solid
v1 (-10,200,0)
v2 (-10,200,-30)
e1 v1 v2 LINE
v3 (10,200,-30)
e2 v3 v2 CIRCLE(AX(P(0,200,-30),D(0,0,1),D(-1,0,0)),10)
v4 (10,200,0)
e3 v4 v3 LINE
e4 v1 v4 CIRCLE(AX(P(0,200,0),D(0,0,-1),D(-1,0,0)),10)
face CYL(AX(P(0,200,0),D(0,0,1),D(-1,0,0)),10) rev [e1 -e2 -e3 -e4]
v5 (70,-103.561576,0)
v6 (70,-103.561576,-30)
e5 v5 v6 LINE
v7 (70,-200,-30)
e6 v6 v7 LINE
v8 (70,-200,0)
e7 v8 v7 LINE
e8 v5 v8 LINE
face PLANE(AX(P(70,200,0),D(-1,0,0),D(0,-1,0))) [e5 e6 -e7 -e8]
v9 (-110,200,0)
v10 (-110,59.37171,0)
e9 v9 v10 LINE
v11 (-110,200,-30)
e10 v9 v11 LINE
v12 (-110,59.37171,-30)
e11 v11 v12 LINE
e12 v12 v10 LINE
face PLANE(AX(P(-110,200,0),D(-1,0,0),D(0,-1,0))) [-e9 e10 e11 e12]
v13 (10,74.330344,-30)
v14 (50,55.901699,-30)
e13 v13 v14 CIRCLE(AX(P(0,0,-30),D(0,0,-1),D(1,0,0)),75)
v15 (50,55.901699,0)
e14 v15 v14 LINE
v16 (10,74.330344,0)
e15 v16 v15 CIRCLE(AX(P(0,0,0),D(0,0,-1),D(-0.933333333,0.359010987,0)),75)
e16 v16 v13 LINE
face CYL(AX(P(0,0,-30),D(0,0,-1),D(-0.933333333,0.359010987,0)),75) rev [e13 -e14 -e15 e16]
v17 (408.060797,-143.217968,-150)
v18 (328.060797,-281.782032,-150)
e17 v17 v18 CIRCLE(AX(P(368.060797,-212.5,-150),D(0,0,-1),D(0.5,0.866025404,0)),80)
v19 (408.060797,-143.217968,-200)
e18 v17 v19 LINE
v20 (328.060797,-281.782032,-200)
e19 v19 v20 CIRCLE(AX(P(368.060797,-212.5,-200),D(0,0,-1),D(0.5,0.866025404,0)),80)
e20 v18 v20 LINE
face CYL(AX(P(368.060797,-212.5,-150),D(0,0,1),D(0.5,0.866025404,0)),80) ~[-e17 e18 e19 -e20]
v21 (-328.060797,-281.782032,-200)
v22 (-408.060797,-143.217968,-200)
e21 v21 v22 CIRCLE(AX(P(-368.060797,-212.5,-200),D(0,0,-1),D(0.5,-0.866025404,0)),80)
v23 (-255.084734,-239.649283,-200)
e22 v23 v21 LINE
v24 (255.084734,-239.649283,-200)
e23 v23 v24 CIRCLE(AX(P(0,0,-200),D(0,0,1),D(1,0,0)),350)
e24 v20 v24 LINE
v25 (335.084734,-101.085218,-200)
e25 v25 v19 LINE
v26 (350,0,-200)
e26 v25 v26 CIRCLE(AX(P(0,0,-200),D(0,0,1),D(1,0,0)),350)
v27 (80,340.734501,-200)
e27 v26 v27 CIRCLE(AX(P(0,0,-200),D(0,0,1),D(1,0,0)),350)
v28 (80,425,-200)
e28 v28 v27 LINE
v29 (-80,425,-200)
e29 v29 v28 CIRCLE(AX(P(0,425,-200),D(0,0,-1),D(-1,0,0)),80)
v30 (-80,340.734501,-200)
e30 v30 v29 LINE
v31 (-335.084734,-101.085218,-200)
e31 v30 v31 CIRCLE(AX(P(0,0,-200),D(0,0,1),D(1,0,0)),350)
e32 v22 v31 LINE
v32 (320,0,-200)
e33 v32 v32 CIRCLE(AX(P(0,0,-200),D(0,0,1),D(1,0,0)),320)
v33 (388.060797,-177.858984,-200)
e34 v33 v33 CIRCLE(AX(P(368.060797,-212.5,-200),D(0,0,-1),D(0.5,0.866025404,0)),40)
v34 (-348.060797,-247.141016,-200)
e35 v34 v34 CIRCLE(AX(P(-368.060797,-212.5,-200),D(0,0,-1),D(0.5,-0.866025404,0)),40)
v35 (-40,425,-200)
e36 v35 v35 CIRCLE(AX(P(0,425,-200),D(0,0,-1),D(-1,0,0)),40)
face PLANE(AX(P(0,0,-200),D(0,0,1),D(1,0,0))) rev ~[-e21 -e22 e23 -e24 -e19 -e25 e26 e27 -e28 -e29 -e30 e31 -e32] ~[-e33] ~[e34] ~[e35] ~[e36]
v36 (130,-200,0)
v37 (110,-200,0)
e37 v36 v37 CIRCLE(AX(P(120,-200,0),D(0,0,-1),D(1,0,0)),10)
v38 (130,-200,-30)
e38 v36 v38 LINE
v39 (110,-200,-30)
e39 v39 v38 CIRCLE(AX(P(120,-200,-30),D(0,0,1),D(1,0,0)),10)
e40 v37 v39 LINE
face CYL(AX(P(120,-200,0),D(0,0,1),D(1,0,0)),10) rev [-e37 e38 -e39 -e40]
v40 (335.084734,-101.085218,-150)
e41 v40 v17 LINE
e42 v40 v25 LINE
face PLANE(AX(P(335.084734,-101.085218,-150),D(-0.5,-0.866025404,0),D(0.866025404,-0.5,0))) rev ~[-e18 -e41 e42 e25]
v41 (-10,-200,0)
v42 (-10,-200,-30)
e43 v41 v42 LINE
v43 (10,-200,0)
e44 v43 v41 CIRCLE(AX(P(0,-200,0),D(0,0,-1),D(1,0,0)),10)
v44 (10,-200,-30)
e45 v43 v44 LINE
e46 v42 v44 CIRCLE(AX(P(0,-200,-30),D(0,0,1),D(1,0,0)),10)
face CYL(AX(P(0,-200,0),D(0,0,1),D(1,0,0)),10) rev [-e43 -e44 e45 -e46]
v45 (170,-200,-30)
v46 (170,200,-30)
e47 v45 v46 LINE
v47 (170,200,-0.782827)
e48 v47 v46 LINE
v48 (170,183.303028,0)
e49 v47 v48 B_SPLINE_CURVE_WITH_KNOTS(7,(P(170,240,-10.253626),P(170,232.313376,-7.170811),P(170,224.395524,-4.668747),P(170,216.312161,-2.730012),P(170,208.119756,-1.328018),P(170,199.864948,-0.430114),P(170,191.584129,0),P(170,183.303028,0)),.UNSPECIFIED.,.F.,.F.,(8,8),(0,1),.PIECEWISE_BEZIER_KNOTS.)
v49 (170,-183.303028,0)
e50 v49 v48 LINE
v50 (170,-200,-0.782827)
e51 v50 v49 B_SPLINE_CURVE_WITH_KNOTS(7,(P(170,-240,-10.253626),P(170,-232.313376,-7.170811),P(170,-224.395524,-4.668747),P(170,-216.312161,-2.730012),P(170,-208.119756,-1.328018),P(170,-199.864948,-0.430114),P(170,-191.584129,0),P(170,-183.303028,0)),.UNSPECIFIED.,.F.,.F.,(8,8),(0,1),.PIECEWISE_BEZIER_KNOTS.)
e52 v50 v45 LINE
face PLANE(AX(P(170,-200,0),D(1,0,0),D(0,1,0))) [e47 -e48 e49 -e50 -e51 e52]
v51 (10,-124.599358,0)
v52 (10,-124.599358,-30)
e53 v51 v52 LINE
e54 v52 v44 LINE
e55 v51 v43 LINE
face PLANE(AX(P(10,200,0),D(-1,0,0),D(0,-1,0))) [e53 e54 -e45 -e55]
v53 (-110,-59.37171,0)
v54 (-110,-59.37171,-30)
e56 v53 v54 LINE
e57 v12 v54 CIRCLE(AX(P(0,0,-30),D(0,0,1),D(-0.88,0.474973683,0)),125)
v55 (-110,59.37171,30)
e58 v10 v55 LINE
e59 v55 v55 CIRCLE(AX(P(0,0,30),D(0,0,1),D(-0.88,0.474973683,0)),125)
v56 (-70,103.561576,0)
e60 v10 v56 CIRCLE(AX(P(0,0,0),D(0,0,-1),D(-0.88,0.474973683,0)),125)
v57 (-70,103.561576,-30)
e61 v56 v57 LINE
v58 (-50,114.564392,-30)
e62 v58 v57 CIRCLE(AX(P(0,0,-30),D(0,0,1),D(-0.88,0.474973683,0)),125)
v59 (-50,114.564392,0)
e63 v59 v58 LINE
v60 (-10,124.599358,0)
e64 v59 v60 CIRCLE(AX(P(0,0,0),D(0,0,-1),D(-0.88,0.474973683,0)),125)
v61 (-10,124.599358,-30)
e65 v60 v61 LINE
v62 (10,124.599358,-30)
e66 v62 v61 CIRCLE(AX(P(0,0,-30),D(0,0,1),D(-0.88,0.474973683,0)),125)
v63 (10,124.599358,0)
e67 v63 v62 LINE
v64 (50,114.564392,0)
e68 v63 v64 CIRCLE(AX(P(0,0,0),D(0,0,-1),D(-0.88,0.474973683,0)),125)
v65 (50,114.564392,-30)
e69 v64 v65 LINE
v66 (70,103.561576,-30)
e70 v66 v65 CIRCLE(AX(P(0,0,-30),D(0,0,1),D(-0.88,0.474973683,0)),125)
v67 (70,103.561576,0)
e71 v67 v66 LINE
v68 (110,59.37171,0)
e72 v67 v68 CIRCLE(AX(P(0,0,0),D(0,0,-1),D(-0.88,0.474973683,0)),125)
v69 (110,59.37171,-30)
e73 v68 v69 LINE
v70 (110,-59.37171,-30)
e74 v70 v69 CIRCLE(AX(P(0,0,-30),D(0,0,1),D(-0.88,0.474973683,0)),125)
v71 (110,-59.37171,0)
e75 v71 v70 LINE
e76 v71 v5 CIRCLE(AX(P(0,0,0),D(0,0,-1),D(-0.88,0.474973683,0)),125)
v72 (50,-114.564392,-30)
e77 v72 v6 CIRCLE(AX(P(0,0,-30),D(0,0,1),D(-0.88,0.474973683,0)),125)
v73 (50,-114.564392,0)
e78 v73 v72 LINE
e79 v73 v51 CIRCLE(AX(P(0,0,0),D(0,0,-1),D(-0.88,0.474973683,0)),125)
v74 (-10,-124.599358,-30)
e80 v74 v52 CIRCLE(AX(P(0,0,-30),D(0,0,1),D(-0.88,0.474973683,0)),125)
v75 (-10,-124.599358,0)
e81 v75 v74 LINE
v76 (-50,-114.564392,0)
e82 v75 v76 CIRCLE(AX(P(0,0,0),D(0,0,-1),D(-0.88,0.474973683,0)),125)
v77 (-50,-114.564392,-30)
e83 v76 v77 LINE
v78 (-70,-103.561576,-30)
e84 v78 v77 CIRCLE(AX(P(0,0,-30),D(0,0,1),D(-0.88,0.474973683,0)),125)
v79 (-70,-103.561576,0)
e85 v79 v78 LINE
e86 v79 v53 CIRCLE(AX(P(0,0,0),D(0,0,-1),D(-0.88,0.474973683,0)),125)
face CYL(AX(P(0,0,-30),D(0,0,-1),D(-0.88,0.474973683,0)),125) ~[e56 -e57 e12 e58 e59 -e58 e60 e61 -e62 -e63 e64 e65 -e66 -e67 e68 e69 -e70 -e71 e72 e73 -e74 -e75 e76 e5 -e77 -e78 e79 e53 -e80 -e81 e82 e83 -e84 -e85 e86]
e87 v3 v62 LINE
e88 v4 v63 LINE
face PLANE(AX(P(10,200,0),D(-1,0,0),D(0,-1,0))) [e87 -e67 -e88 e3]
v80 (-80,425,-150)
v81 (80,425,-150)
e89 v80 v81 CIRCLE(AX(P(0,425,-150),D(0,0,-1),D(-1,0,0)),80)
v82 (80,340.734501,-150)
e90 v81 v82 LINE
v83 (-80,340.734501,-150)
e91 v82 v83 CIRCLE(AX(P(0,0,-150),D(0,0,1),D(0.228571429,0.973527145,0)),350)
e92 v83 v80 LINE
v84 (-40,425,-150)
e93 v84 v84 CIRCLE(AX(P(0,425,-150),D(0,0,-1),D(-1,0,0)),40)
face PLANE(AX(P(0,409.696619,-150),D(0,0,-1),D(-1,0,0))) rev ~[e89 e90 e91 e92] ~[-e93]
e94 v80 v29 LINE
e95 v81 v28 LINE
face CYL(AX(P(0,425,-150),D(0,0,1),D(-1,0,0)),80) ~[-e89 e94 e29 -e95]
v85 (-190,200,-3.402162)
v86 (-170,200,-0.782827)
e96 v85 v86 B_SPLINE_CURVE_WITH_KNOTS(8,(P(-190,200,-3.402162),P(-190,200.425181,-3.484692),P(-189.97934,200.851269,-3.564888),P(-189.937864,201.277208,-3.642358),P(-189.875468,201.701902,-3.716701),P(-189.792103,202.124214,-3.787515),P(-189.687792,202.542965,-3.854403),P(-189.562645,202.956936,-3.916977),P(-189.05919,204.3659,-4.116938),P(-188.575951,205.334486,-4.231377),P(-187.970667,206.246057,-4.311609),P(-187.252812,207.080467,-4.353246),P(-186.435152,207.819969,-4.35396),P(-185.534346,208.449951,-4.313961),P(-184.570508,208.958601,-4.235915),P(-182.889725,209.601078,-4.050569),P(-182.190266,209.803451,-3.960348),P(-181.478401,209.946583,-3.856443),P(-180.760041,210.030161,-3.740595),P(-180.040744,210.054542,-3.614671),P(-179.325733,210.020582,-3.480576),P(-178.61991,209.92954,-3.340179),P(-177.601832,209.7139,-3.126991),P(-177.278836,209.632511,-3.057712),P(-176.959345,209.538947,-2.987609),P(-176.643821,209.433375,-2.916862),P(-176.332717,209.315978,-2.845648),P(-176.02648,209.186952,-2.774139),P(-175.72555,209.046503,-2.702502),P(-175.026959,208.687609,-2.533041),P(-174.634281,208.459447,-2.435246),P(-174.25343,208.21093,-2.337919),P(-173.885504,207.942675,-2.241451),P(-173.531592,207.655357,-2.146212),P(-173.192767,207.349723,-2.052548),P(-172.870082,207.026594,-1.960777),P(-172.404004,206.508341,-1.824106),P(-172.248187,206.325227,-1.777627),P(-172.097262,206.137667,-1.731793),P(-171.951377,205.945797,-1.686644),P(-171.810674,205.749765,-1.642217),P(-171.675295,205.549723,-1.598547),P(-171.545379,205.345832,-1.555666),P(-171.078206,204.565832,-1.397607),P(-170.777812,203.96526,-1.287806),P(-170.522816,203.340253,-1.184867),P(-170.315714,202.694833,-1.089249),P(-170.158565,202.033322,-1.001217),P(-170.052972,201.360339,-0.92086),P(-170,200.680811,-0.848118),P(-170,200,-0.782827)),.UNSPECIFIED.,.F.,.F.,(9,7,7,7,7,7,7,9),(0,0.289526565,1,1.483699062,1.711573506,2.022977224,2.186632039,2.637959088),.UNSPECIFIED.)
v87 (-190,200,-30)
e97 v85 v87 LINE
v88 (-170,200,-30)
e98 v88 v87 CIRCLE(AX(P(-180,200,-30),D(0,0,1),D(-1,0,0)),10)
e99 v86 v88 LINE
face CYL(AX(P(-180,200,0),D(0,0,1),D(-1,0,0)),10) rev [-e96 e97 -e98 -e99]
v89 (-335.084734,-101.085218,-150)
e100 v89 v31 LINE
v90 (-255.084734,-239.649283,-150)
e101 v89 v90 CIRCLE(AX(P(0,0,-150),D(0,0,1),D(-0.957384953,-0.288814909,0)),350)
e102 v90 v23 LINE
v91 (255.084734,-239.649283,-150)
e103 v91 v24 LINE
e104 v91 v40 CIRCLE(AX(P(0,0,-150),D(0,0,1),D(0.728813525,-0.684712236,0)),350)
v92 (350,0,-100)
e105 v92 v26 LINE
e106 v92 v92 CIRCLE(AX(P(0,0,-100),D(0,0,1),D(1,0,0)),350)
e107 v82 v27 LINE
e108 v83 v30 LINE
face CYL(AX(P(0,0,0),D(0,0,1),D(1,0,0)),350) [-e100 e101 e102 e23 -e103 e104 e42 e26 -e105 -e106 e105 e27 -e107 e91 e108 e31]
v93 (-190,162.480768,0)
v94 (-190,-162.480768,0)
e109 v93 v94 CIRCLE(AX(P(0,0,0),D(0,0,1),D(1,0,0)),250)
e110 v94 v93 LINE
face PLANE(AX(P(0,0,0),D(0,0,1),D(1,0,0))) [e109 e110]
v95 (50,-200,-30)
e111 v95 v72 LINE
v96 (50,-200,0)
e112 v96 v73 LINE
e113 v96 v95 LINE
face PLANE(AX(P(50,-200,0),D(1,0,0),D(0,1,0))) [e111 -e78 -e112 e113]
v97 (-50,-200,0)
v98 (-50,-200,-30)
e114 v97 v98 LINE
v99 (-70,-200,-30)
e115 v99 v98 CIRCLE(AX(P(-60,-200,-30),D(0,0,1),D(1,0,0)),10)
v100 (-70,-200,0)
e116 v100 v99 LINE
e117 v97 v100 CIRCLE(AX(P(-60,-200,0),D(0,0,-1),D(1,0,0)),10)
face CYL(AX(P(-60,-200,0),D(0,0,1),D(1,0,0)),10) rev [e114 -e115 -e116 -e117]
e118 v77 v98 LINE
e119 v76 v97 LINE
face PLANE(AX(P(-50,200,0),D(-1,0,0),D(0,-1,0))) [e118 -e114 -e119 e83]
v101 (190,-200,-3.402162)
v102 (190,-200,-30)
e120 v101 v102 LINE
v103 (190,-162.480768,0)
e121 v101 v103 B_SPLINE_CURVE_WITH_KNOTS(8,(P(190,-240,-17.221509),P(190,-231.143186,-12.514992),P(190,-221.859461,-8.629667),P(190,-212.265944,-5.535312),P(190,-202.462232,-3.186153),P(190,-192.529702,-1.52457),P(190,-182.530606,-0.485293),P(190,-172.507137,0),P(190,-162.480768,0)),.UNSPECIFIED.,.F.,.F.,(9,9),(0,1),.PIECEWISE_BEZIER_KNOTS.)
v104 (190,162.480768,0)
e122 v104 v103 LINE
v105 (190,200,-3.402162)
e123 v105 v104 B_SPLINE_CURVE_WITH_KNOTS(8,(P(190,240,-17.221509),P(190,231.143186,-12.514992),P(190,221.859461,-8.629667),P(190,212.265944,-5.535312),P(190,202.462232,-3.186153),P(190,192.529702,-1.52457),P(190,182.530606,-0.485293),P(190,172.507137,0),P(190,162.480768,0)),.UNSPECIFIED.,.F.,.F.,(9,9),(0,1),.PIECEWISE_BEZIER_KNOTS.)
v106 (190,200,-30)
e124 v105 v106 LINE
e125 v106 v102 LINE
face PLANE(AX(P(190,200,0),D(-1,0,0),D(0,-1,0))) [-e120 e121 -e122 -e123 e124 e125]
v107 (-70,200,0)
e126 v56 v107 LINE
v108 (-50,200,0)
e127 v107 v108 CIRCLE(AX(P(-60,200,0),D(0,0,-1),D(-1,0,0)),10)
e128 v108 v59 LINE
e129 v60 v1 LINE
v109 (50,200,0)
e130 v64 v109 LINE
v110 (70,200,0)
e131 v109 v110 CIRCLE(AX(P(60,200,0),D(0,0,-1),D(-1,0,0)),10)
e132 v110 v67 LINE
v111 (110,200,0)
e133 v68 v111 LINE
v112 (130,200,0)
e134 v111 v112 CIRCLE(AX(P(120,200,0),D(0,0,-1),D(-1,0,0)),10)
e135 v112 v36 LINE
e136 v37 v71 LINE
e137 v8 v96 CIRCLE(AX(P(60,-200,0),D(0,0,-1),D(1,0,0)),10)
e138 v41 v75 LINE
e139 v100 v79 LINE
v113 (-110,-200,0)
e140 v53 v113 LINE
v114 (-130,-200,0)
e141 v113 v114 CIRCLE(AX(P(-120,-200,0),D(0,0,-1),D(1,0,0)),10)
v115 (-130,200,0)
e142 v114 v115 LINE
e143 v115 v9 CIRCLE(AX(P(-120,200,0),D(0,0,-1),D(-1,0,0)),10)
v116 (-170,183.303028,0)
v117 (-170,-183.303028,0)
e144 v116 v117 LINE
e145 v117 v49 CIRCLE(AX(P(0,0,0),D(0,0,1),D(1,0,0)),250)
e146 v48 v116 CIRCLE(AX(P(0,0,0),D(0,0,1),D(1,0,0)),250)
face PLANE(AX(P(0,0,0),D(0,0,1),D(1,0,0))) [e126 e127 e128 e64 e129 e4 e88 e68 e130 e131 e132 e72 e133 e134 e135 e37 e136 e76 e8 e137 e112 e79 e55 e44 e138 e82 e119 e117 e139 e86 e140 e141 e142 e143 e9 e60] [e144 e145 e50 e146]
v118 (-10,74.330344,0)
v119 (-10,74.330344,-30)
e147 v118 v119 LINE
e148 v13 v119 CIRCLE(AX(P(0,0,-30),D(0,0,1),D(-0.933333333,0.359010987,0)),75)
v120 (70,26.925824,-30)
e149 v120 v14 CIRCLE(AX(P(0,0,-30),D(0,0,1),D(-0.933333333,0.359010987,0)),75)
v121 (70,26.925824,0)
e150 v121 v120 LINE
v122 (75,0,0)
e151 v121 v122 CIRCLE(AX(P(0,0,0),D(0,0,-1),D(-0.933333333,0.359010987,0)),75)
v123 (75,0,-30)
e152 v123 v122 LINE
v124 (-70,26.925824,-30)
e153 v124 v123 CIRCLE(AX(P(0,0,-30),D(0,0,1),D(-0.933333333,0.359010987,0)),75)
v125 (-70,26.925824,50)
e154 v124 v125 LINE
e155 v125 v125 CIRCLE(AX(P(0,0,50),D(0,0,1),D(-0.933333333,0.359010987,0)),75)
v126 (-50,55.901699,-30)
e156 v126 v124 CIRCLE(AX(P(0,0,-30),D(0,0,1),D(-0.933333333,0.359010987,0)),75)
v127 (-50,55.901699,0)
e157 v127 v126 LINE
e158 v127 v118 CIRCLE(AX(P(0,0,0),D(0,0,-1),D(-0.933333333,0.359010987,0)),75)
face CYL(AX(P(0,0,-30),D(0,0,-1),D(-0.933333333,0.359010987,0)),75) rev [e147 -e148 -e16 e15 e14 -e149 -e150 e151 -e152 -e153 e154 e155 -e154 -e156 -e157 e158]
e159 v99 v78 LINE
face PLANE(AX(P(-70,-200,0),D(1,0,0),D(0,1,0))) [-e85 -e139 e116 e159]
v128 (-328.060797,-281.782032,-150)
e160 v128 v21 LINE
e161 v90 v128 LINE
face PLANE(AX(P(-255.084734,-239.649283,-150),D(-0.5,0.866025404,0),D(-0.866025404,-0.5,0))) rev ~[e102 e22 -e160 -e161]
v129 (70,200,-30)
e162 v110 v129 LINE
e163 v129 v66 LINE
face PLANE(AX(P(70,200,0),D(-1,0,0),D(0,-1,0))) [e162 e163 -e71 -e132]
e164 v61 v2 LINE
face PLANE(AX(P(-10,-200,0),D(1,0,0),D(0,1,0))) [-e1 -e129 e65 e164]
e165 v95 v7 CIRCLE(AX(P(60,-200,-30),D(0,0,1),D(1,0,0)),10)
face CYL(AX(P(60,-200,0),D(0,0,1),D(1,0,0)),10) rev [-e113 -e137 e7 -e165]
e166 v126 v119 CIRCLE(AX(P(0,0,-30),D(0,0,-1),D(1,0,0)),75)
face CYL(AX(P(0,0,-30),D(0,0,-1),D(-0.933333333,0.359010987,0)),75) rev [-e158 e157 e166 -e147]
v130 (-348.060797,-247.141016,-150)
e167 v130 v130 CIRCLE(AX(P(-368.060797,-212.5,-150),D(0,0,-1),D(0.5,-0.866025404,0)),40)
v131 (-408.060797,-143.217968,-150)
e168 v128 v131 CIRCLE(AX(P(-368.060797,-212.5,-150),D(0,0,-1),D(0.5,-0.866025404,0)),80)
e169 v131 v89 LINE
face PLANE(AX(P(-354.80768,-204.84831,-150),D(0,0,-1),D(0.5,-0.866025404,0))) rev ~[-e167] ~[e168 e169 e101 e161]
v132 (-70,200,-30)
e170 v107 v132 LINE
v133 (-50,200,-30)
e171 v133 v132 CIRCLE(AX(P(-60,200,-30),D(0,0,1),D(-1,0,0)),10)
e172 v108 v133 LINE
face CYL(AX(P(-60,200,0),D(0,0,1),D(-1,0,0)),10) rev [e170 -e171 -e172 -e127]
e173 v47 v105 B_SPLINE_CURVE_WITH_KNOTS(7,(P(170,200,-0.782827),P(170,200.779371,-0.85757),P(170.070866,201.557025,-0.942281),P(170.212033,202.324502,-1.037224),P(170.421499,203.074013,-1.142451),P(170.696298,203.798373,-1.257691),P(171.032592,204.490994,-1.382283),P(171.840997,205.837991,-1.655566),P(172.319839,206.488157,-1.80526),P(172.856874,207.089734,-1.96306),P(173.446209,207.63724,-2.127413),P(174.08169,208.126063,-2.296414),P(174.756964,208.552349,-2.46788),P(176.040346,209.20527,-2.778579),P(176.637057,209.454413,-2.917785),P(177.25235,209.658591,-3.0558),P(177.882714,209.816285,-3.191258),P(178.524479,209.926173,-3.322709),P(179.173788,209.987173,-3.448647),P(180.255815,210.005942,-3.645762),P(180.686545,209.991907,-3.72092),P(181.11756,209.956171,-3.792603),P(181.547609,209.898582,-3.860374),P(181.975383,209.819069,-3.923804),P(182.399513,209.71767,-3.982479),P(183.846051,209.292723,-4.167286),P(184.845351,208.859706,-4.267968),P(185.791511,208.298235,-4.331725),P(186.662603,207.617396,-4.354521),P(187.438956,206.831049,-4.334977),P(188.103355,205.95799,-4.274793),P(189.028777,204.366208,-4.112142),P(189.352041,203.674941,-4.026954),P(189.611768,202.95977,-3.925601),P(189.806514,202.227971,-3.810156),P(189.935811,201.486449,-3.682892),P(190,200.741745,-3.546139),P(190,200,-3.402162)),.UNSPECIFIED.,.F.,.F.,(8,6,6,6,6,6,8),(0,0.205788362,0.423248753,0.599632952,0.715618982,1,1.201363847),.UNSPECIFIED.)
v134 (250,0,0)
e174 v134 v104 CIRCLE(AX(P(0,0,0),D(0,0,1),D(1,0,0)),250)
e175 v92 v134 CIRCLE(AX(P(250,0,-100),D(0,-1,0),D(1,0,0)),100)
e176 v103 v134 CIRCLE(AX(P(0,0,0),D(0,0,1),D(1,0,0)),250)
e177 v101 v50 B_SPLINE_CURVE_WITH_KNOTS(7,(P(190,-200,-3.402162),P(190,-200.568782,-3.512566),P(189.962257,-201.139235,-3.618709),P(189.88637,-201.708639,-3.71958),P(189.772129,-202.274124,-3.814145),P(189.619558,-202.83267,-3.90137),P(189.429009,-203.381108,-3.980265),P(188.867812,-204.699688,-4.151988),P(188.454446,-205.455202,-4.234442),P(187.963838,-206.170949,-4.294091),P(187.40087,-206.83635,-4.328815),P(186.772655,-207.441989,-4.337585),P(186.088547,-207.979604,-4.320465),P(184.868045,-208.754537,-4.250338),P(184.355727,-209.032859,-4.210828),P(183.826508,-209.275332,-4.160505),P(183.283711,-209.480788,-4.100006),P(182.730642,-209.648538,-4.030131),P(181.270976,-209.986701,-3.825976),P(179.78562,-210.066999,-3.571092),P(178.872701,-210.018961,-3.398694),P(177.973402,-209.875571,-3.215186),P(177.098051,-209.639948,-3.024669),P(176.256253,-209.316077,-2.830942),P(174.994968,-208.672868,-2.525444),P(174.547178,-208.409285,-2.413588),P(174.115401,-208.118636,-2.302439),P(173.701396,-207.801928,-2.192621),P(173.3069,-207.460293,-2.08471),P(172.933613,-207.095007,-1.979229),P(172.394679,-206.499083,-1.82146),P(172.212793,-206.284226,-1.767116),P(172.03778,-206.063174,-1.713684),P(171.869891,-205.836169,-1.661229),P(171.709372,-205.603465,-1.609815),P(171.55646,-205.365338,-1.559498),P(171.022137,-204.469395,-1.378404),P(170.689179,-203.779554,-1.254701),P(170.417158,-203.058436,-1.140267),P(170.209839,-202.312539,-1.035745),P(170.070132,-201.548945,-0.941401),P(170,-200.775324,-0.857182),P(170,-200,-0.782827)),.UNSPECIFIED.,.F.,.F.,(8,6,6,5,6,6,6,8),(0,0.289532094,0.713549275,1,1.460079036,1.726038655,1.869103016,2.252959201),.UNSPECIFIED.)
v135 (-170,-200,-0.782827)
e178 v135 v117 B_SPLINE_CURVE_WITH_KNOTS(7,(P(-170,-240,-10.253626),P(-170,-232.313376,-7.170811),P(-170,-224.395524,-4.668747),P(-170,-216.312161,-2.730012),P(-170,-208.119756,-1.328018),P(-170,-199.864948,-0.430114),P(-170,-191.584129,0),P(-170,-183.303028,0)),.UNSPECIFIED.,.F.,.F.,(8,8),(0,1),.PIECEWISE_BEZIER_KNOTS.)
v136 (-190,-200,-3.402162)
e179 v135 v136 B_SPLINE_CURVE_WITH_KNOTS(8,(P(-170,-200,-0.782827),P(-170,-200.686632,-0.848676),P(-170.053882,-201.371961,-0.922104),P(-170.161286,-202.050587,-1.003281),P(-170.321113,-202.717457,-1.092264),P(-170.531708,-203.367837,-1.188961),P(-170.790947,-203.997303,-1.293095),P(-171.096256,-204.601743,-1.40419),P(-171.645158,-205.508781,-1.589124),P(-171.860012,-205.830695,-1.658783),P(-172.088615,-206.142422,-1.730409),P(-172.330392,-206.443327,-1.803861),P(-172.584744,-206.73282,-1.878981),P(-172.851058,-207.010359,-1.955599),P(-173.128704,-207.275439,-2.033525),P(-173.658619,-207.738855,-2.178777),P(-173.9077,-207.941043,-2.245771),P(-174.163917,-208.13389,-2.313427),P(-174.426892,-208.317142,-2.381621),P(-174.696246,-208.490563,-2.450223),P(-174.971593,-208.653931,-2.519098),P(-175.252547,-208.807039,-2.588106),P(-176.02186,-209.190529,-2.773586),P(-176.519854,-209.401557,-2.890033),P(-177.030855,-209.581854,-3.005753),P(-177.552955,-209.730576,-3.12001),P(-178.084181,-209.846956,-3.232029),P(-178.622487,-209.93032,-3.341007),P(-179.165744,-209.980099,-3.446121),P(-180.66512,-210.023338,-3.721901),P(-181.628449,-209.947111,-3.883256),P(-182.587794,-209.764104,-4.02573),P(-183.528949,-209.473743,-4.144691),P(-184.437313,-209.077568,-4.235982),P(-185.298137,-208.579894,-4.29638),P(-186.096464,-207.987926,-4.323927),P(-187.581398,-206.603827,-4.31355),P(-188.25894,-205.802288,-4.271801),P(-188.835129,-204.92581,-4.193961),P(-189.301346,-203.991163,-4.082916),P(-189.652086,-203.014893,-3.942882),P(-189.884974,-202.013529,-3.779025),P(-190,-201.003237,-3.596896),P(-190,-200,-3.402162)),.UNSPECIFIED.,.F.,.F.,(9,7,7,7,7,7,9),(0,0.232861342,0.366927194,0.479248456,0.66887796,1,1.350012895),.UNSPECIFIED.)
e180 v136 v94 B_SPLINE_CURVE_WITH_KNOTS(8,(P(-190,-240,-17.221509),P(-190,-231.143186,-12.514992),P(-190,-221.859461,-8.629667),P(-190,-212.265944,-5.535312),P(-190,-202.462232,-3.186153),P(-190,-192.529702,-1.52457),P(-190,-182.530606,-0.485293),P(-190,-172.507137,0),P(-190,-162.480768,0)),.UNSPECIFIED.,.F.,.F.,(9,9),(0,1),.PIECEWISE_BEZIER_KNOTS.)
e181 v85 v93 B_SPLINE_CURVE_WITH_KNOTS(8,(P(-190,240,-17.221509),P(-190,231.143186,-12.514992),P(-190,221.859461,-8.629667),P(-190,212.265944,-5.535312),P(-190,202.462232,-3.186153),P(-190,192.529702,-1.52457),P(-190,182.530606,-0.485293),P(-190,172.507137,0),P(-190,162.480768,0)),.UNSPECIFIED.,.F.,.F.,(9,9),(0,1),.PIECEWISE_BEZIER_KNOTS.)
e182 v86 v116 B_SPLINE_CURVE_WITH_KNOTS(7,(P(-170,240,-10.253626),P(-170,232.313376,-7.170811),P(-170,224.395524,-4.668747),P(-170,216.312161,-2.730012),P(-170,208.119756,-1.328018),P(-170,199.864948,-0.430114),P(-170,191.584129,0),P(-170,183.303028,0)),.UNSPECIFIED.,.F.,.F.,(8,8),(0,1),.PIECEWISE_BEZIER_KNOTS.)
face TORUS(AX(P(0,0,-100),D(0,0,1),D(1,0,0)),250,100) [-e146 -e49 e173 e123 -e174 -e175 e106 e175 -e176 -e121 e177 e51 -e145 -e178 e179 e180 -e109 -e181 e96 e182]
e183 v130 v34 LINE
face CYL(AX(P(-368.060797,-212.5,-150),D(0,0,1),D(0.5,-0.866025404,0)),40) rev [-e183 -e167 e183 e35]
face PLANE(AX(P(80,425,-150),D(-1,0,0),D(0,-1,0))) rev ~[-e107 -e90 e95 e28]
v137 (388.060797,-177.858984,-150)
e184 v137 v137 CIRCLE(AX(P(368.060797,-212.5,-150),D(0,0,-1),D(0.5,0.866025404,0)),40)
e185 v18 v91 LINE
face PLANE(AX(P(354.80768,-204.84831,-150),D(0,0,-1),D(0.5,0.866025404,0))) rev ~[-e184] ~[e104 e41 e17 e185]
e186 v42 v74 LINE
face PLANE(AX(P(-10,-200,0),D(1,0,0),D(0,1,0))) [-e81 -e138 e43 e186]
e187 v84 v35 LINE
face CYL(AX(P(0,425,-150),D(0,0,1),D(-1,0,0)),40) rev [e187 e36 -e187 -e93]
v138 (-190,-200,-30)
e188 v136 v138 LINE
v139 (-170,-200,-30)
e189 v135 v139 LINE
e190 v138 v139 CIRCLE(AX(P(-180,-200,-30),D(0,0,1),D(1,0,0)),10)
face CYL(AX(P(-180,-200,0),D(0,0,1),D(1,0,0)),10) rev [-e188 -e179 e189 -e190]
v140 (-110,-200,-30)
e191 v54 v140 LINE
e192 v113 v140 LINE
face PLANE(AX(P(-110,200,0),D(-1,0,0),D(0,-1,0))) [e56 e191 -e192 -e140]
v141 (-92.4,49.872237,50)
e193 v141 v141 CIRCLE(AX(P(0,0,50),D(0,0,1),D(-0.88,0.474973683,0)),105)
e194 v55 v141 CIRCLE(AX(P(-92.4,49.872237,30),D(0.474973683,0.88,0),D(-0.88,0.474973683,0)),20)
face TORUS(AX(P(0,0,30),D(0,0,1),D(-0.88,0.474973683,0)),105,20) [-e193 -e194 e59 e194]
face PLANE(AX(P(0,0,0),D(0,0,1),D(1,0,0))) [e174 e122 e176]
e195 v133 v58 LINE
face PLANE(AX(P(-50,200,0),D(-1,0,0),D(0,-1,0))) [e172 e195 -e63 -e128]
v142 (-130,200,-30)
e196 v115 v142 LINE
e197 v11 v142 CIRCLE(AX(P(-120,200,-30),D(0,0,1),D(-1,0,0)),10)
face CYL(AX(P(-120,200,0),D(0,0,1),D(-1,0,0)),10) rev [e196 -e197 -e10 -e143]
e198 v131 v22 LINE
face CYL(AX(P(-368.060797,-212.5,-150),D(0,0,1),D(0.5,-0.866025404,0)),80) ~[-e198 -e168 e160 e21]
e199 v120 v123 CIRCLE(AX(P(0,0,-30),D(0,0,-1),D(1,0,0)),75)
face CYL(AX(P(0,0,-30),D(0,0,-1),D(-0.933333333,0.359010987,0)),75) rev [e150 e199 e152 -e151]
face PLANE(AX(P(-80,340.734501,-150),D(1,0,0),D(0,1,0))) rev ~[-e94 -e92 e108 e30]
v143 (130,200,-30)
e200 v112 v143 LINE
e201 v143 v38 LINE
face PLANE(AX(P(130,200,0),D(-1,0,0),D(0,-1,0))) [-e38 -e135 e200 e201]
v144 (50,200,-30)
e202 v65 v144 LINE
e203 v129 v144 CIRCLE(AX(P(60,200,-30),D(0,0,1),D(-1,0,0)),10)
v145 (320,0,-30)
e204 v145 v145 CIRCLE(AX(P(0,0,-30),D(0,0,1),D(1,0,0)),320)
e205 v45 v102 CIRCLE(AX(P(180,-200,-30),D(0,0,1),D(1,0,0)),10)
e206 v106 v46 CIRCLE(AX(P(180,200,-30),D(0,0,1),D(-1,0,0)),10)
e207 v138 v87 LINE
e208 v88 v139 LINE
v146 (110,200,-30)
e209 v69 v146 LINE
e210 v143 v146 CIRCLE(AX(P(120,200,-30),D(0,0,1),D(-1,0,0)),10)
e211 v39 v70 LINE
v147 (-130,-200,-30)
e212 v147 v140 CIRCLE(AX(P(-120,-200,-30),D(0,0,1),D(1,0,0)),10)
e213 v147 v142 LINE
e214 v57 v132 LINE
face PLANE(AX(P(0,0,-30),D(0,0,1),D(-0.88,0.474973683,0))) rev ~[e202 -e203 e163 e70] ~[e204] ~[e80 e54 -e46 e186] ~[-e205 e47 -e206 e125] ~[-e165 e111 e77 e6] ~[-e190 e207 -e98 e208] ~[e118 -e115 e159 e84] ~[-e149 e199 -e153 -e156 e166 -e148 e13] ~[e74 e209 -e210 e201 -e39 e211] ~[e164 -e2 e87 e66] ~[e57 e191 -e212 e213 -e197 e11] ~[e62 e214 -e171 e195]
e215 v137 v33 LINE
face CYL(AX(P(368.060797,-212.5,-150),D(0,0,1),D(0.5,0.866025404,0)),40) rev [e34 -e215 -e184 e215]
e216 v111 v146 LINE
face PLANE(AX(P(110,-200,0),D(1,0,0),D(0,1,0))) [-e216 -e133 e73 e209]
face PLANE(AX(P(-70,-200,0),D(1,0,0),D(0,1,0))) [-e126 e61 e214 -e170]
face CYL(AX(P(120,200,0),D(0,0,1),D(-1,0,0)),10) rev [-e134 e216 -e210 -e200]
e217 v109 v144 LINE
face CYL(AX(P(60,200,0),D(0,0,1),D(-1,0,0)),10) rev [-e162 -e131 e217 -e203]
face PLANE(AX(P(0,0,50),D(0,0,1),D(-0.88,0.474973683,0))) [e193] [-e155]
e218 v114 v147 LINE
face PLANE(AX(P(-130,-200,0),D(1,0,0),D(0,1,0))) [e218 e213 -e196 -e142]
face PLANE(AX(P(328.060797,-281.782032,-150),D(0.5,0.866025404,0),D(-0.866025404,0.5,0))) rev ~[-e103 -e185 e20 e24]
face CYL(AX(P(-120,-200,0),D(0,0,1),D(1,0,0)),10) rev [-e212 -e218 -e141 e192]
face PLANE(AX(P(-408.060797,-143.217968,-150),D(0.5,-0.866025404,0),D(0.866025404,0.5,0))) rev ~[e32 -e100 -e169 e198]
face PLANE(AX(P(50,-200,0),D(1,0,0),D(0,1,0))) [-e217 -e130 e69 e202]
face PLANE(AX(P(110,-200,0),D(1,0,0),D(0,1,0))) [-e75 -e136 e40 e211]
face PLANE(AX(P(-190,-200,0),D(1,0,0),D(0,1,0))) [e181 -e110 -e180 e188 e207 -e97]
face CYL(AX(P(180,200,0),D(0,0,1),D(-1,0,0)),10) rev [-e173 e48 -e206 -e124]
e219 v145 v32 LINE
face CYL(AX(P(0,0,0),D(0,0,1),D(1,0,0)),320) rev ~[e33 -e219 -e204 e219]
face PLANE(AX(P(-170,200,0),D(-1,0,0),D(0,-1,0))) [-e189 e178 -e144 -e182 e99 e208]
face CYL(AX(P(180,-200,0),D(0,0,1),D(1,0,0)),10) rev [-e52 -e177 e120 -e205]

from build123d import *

# Parameters (mm, degrees)
SKETCH1_R           = 350
BOSS_EXTRUDE1_DEPTH = 200
SHELL4_T            = -30
BOSS_EXTRUDE2_START = -50
SKETCH2_R           = 40
BOSS_EXTRUDE2_DEPTH = 50
CIRPATTERN1_COUNT   = 3
FILLET1_R           = 100
CUT_EXTRUDE2_DEPTH  = 50
BOSS_EXTRUDE3_START = -30
SKETCH3_R           = 125
SKETCH3_R_2         = 75
BOSS_EXTRUDE3_DEPTH = 80
FILLET2_R           = 20
CUT_EXTRUDE1_START  = -50
SKETCH4_R           = 75
CUT_EXTRUDE1_DEPTH  = 50


with BuildPart() as part:
    # Sketch1 → Boss-Extrude1 (new body)
    with BuildSketch(Plane.XY):
        Circle(SKETCH1_R)
    extrude(amount=-BOSS_EXTRUDE1_DEPTH)

    # Shell4
    shell4_openings = [part.faces().sort_by_distance(p)[0] for p in [
        (0, 0, -200),
    ]]
    offset(amount=SHELL4_T, openings=shell4_openings, kind=Kind.INTERSECTION)

    # Sketch2 → Boss-Extrude2 (add)
    with BuildSketch(Plane(origin=(0, 0, -200), x_dir=(-1, 0, 0), z_dir=(0, 0, -1)).offset(BOSS_EXTRUDE2_START)):
        with BuildLine():
            ThreePointArc((80, 425), (0, 505), (-80, 425))
            Line((-80, 425), (-80, 340.734500748))
            ThreePointArc((-80, 340.734500748), (0, 350), (80, 340.734500748))
            Line((80, 340.734500748), (80, 425))
        make_face()
        with Locations((0, 425)):
            Circle(SKETCH2_R, mode=Mode.SUBTRACT)
    boss_extrude2 = extrude(amount=BOSS_EXTRUDE2_DEPTH)

    # CirPattern1: Boss-Extrude2 ×3 about axis
    cirpattern1_axis = Axis((0, 0, 0), (0, 0, 1))
    for i in range(1, CIRPATTERN1_COUNT):
        add(boss_extrude2.rotate(cirpattern1_axis, i * 360 / CIRPATTERN1_COUNT))

    # Fillet1
    fillet1_edges = [part.edges().sort_by_distance(p)[0] for p in [
        (-350, 0, 0),
    ]]
    fillet(fillet1_edges, radius=FILLET1_R)

    # Sketch5 → Cut-Extrude2 (cut)
    with BuildSketch(Plane.XY):
        with BuildLine():
            Line((-10, -200), (-10, 200))
            ThreePointArc((-10, 200), (0, 210), (10, 200))
            Line((10, 200), (10, -200))
            ThreePointArc((10, -200), (0, -210), (-10, -200))
        make_face()
        with BuildLine():
            Line((50, -200), (50, 200))
            ThreePointArc((50, 200), (60, 210), (70, 200))
            Line((70, 200), (70, -200))
            ThreePointArc((70, -200), (60, -210), (50, -200))
        make_face()
        with BuildLine():
            Line((110, -200), (110, 200))
            ThreePointArc((110, 200), (120, 210), (130, 200))
            Line((130, 200), (130, -200))
            ThreePointArc((130, -200), (120, -210), (110, -200))
        make_face()
        with BuildLine():
            Line((170, -200), (170, 200))
            ThreePointArc((170, 200), (180, 210), (190, 200))
            Line((190, 200), (190, -200))
            ThreePointArc((190, -200), (180, -210), (170, -200))
        make_face()
        with BuildLine():
            Line((-70, -200), (-70, 200))
            ThreePointArc((-70, 200), (-60, 210), (-50, 200))
            Line((-50, 200), (-50, -200))
            ThreePointArc((-50, -200), (-60, -210), (-70, -200))
        make_face()
        with BuildLine():
            Line((-130, -200), (-130, 200))
            ThreePointArc((-130, 200), (-120, 210), (-110, 200))
            Line((-110, 200), (-110, -200))
            ThreePointArc((-110, -200), (-120, -210), (-130, -200))
        make_face()
        with BuildLine():
            Line((-190, -200), (-190, 200))
            ThreePointArc((-190, 200), (-180, 210), (-170, 200))
            Line((-170, 200), (-170, -200))
            ThreePointArc((-170, -200), (-180, -210), (-190, -200))
        make_face()
    extrude(amount=-CUT_EXTRUDE2_DEPTH, mode=Mode.SUBTRACT)

    # Sketch3 → Boss-Extrude3 (add)
    with BuildSketch(Plane.XY.offset(BOSS_EXTRUDE3_START)):
        with Locations(Location((0, 0, 0), (0, 0, 151.642363424))):
            Circle(SKETCH3_R)
        with Locations(Location((0, 0, 0), (0, 0, 158.960530219))):
            Circle(SKETCH3_R_2, mode=Mode.SUBTRACT)
    extrude(amount=BOSS_EXTRUDE3_DEPTH)

    # Fillet2
    fillet2_edges = [part.edges().sort_by_distance(p)[0] for p in [
        (110, -59.371710435, 50),
    ]]
    fillet(fillet2_edges, radius=FILLET2_R)

    # Sketch4 → Cut-Extrude1 (cut)
    with BuildSketch(Plane.XY.offset(CUT_EXTRUDE1_START)):
        Circle(SKETCH4_R)
    extrude(amount=CUT_EXTRUDE1_DEPTH, mode=Mode.SUBTRACT)


solid = part.part
